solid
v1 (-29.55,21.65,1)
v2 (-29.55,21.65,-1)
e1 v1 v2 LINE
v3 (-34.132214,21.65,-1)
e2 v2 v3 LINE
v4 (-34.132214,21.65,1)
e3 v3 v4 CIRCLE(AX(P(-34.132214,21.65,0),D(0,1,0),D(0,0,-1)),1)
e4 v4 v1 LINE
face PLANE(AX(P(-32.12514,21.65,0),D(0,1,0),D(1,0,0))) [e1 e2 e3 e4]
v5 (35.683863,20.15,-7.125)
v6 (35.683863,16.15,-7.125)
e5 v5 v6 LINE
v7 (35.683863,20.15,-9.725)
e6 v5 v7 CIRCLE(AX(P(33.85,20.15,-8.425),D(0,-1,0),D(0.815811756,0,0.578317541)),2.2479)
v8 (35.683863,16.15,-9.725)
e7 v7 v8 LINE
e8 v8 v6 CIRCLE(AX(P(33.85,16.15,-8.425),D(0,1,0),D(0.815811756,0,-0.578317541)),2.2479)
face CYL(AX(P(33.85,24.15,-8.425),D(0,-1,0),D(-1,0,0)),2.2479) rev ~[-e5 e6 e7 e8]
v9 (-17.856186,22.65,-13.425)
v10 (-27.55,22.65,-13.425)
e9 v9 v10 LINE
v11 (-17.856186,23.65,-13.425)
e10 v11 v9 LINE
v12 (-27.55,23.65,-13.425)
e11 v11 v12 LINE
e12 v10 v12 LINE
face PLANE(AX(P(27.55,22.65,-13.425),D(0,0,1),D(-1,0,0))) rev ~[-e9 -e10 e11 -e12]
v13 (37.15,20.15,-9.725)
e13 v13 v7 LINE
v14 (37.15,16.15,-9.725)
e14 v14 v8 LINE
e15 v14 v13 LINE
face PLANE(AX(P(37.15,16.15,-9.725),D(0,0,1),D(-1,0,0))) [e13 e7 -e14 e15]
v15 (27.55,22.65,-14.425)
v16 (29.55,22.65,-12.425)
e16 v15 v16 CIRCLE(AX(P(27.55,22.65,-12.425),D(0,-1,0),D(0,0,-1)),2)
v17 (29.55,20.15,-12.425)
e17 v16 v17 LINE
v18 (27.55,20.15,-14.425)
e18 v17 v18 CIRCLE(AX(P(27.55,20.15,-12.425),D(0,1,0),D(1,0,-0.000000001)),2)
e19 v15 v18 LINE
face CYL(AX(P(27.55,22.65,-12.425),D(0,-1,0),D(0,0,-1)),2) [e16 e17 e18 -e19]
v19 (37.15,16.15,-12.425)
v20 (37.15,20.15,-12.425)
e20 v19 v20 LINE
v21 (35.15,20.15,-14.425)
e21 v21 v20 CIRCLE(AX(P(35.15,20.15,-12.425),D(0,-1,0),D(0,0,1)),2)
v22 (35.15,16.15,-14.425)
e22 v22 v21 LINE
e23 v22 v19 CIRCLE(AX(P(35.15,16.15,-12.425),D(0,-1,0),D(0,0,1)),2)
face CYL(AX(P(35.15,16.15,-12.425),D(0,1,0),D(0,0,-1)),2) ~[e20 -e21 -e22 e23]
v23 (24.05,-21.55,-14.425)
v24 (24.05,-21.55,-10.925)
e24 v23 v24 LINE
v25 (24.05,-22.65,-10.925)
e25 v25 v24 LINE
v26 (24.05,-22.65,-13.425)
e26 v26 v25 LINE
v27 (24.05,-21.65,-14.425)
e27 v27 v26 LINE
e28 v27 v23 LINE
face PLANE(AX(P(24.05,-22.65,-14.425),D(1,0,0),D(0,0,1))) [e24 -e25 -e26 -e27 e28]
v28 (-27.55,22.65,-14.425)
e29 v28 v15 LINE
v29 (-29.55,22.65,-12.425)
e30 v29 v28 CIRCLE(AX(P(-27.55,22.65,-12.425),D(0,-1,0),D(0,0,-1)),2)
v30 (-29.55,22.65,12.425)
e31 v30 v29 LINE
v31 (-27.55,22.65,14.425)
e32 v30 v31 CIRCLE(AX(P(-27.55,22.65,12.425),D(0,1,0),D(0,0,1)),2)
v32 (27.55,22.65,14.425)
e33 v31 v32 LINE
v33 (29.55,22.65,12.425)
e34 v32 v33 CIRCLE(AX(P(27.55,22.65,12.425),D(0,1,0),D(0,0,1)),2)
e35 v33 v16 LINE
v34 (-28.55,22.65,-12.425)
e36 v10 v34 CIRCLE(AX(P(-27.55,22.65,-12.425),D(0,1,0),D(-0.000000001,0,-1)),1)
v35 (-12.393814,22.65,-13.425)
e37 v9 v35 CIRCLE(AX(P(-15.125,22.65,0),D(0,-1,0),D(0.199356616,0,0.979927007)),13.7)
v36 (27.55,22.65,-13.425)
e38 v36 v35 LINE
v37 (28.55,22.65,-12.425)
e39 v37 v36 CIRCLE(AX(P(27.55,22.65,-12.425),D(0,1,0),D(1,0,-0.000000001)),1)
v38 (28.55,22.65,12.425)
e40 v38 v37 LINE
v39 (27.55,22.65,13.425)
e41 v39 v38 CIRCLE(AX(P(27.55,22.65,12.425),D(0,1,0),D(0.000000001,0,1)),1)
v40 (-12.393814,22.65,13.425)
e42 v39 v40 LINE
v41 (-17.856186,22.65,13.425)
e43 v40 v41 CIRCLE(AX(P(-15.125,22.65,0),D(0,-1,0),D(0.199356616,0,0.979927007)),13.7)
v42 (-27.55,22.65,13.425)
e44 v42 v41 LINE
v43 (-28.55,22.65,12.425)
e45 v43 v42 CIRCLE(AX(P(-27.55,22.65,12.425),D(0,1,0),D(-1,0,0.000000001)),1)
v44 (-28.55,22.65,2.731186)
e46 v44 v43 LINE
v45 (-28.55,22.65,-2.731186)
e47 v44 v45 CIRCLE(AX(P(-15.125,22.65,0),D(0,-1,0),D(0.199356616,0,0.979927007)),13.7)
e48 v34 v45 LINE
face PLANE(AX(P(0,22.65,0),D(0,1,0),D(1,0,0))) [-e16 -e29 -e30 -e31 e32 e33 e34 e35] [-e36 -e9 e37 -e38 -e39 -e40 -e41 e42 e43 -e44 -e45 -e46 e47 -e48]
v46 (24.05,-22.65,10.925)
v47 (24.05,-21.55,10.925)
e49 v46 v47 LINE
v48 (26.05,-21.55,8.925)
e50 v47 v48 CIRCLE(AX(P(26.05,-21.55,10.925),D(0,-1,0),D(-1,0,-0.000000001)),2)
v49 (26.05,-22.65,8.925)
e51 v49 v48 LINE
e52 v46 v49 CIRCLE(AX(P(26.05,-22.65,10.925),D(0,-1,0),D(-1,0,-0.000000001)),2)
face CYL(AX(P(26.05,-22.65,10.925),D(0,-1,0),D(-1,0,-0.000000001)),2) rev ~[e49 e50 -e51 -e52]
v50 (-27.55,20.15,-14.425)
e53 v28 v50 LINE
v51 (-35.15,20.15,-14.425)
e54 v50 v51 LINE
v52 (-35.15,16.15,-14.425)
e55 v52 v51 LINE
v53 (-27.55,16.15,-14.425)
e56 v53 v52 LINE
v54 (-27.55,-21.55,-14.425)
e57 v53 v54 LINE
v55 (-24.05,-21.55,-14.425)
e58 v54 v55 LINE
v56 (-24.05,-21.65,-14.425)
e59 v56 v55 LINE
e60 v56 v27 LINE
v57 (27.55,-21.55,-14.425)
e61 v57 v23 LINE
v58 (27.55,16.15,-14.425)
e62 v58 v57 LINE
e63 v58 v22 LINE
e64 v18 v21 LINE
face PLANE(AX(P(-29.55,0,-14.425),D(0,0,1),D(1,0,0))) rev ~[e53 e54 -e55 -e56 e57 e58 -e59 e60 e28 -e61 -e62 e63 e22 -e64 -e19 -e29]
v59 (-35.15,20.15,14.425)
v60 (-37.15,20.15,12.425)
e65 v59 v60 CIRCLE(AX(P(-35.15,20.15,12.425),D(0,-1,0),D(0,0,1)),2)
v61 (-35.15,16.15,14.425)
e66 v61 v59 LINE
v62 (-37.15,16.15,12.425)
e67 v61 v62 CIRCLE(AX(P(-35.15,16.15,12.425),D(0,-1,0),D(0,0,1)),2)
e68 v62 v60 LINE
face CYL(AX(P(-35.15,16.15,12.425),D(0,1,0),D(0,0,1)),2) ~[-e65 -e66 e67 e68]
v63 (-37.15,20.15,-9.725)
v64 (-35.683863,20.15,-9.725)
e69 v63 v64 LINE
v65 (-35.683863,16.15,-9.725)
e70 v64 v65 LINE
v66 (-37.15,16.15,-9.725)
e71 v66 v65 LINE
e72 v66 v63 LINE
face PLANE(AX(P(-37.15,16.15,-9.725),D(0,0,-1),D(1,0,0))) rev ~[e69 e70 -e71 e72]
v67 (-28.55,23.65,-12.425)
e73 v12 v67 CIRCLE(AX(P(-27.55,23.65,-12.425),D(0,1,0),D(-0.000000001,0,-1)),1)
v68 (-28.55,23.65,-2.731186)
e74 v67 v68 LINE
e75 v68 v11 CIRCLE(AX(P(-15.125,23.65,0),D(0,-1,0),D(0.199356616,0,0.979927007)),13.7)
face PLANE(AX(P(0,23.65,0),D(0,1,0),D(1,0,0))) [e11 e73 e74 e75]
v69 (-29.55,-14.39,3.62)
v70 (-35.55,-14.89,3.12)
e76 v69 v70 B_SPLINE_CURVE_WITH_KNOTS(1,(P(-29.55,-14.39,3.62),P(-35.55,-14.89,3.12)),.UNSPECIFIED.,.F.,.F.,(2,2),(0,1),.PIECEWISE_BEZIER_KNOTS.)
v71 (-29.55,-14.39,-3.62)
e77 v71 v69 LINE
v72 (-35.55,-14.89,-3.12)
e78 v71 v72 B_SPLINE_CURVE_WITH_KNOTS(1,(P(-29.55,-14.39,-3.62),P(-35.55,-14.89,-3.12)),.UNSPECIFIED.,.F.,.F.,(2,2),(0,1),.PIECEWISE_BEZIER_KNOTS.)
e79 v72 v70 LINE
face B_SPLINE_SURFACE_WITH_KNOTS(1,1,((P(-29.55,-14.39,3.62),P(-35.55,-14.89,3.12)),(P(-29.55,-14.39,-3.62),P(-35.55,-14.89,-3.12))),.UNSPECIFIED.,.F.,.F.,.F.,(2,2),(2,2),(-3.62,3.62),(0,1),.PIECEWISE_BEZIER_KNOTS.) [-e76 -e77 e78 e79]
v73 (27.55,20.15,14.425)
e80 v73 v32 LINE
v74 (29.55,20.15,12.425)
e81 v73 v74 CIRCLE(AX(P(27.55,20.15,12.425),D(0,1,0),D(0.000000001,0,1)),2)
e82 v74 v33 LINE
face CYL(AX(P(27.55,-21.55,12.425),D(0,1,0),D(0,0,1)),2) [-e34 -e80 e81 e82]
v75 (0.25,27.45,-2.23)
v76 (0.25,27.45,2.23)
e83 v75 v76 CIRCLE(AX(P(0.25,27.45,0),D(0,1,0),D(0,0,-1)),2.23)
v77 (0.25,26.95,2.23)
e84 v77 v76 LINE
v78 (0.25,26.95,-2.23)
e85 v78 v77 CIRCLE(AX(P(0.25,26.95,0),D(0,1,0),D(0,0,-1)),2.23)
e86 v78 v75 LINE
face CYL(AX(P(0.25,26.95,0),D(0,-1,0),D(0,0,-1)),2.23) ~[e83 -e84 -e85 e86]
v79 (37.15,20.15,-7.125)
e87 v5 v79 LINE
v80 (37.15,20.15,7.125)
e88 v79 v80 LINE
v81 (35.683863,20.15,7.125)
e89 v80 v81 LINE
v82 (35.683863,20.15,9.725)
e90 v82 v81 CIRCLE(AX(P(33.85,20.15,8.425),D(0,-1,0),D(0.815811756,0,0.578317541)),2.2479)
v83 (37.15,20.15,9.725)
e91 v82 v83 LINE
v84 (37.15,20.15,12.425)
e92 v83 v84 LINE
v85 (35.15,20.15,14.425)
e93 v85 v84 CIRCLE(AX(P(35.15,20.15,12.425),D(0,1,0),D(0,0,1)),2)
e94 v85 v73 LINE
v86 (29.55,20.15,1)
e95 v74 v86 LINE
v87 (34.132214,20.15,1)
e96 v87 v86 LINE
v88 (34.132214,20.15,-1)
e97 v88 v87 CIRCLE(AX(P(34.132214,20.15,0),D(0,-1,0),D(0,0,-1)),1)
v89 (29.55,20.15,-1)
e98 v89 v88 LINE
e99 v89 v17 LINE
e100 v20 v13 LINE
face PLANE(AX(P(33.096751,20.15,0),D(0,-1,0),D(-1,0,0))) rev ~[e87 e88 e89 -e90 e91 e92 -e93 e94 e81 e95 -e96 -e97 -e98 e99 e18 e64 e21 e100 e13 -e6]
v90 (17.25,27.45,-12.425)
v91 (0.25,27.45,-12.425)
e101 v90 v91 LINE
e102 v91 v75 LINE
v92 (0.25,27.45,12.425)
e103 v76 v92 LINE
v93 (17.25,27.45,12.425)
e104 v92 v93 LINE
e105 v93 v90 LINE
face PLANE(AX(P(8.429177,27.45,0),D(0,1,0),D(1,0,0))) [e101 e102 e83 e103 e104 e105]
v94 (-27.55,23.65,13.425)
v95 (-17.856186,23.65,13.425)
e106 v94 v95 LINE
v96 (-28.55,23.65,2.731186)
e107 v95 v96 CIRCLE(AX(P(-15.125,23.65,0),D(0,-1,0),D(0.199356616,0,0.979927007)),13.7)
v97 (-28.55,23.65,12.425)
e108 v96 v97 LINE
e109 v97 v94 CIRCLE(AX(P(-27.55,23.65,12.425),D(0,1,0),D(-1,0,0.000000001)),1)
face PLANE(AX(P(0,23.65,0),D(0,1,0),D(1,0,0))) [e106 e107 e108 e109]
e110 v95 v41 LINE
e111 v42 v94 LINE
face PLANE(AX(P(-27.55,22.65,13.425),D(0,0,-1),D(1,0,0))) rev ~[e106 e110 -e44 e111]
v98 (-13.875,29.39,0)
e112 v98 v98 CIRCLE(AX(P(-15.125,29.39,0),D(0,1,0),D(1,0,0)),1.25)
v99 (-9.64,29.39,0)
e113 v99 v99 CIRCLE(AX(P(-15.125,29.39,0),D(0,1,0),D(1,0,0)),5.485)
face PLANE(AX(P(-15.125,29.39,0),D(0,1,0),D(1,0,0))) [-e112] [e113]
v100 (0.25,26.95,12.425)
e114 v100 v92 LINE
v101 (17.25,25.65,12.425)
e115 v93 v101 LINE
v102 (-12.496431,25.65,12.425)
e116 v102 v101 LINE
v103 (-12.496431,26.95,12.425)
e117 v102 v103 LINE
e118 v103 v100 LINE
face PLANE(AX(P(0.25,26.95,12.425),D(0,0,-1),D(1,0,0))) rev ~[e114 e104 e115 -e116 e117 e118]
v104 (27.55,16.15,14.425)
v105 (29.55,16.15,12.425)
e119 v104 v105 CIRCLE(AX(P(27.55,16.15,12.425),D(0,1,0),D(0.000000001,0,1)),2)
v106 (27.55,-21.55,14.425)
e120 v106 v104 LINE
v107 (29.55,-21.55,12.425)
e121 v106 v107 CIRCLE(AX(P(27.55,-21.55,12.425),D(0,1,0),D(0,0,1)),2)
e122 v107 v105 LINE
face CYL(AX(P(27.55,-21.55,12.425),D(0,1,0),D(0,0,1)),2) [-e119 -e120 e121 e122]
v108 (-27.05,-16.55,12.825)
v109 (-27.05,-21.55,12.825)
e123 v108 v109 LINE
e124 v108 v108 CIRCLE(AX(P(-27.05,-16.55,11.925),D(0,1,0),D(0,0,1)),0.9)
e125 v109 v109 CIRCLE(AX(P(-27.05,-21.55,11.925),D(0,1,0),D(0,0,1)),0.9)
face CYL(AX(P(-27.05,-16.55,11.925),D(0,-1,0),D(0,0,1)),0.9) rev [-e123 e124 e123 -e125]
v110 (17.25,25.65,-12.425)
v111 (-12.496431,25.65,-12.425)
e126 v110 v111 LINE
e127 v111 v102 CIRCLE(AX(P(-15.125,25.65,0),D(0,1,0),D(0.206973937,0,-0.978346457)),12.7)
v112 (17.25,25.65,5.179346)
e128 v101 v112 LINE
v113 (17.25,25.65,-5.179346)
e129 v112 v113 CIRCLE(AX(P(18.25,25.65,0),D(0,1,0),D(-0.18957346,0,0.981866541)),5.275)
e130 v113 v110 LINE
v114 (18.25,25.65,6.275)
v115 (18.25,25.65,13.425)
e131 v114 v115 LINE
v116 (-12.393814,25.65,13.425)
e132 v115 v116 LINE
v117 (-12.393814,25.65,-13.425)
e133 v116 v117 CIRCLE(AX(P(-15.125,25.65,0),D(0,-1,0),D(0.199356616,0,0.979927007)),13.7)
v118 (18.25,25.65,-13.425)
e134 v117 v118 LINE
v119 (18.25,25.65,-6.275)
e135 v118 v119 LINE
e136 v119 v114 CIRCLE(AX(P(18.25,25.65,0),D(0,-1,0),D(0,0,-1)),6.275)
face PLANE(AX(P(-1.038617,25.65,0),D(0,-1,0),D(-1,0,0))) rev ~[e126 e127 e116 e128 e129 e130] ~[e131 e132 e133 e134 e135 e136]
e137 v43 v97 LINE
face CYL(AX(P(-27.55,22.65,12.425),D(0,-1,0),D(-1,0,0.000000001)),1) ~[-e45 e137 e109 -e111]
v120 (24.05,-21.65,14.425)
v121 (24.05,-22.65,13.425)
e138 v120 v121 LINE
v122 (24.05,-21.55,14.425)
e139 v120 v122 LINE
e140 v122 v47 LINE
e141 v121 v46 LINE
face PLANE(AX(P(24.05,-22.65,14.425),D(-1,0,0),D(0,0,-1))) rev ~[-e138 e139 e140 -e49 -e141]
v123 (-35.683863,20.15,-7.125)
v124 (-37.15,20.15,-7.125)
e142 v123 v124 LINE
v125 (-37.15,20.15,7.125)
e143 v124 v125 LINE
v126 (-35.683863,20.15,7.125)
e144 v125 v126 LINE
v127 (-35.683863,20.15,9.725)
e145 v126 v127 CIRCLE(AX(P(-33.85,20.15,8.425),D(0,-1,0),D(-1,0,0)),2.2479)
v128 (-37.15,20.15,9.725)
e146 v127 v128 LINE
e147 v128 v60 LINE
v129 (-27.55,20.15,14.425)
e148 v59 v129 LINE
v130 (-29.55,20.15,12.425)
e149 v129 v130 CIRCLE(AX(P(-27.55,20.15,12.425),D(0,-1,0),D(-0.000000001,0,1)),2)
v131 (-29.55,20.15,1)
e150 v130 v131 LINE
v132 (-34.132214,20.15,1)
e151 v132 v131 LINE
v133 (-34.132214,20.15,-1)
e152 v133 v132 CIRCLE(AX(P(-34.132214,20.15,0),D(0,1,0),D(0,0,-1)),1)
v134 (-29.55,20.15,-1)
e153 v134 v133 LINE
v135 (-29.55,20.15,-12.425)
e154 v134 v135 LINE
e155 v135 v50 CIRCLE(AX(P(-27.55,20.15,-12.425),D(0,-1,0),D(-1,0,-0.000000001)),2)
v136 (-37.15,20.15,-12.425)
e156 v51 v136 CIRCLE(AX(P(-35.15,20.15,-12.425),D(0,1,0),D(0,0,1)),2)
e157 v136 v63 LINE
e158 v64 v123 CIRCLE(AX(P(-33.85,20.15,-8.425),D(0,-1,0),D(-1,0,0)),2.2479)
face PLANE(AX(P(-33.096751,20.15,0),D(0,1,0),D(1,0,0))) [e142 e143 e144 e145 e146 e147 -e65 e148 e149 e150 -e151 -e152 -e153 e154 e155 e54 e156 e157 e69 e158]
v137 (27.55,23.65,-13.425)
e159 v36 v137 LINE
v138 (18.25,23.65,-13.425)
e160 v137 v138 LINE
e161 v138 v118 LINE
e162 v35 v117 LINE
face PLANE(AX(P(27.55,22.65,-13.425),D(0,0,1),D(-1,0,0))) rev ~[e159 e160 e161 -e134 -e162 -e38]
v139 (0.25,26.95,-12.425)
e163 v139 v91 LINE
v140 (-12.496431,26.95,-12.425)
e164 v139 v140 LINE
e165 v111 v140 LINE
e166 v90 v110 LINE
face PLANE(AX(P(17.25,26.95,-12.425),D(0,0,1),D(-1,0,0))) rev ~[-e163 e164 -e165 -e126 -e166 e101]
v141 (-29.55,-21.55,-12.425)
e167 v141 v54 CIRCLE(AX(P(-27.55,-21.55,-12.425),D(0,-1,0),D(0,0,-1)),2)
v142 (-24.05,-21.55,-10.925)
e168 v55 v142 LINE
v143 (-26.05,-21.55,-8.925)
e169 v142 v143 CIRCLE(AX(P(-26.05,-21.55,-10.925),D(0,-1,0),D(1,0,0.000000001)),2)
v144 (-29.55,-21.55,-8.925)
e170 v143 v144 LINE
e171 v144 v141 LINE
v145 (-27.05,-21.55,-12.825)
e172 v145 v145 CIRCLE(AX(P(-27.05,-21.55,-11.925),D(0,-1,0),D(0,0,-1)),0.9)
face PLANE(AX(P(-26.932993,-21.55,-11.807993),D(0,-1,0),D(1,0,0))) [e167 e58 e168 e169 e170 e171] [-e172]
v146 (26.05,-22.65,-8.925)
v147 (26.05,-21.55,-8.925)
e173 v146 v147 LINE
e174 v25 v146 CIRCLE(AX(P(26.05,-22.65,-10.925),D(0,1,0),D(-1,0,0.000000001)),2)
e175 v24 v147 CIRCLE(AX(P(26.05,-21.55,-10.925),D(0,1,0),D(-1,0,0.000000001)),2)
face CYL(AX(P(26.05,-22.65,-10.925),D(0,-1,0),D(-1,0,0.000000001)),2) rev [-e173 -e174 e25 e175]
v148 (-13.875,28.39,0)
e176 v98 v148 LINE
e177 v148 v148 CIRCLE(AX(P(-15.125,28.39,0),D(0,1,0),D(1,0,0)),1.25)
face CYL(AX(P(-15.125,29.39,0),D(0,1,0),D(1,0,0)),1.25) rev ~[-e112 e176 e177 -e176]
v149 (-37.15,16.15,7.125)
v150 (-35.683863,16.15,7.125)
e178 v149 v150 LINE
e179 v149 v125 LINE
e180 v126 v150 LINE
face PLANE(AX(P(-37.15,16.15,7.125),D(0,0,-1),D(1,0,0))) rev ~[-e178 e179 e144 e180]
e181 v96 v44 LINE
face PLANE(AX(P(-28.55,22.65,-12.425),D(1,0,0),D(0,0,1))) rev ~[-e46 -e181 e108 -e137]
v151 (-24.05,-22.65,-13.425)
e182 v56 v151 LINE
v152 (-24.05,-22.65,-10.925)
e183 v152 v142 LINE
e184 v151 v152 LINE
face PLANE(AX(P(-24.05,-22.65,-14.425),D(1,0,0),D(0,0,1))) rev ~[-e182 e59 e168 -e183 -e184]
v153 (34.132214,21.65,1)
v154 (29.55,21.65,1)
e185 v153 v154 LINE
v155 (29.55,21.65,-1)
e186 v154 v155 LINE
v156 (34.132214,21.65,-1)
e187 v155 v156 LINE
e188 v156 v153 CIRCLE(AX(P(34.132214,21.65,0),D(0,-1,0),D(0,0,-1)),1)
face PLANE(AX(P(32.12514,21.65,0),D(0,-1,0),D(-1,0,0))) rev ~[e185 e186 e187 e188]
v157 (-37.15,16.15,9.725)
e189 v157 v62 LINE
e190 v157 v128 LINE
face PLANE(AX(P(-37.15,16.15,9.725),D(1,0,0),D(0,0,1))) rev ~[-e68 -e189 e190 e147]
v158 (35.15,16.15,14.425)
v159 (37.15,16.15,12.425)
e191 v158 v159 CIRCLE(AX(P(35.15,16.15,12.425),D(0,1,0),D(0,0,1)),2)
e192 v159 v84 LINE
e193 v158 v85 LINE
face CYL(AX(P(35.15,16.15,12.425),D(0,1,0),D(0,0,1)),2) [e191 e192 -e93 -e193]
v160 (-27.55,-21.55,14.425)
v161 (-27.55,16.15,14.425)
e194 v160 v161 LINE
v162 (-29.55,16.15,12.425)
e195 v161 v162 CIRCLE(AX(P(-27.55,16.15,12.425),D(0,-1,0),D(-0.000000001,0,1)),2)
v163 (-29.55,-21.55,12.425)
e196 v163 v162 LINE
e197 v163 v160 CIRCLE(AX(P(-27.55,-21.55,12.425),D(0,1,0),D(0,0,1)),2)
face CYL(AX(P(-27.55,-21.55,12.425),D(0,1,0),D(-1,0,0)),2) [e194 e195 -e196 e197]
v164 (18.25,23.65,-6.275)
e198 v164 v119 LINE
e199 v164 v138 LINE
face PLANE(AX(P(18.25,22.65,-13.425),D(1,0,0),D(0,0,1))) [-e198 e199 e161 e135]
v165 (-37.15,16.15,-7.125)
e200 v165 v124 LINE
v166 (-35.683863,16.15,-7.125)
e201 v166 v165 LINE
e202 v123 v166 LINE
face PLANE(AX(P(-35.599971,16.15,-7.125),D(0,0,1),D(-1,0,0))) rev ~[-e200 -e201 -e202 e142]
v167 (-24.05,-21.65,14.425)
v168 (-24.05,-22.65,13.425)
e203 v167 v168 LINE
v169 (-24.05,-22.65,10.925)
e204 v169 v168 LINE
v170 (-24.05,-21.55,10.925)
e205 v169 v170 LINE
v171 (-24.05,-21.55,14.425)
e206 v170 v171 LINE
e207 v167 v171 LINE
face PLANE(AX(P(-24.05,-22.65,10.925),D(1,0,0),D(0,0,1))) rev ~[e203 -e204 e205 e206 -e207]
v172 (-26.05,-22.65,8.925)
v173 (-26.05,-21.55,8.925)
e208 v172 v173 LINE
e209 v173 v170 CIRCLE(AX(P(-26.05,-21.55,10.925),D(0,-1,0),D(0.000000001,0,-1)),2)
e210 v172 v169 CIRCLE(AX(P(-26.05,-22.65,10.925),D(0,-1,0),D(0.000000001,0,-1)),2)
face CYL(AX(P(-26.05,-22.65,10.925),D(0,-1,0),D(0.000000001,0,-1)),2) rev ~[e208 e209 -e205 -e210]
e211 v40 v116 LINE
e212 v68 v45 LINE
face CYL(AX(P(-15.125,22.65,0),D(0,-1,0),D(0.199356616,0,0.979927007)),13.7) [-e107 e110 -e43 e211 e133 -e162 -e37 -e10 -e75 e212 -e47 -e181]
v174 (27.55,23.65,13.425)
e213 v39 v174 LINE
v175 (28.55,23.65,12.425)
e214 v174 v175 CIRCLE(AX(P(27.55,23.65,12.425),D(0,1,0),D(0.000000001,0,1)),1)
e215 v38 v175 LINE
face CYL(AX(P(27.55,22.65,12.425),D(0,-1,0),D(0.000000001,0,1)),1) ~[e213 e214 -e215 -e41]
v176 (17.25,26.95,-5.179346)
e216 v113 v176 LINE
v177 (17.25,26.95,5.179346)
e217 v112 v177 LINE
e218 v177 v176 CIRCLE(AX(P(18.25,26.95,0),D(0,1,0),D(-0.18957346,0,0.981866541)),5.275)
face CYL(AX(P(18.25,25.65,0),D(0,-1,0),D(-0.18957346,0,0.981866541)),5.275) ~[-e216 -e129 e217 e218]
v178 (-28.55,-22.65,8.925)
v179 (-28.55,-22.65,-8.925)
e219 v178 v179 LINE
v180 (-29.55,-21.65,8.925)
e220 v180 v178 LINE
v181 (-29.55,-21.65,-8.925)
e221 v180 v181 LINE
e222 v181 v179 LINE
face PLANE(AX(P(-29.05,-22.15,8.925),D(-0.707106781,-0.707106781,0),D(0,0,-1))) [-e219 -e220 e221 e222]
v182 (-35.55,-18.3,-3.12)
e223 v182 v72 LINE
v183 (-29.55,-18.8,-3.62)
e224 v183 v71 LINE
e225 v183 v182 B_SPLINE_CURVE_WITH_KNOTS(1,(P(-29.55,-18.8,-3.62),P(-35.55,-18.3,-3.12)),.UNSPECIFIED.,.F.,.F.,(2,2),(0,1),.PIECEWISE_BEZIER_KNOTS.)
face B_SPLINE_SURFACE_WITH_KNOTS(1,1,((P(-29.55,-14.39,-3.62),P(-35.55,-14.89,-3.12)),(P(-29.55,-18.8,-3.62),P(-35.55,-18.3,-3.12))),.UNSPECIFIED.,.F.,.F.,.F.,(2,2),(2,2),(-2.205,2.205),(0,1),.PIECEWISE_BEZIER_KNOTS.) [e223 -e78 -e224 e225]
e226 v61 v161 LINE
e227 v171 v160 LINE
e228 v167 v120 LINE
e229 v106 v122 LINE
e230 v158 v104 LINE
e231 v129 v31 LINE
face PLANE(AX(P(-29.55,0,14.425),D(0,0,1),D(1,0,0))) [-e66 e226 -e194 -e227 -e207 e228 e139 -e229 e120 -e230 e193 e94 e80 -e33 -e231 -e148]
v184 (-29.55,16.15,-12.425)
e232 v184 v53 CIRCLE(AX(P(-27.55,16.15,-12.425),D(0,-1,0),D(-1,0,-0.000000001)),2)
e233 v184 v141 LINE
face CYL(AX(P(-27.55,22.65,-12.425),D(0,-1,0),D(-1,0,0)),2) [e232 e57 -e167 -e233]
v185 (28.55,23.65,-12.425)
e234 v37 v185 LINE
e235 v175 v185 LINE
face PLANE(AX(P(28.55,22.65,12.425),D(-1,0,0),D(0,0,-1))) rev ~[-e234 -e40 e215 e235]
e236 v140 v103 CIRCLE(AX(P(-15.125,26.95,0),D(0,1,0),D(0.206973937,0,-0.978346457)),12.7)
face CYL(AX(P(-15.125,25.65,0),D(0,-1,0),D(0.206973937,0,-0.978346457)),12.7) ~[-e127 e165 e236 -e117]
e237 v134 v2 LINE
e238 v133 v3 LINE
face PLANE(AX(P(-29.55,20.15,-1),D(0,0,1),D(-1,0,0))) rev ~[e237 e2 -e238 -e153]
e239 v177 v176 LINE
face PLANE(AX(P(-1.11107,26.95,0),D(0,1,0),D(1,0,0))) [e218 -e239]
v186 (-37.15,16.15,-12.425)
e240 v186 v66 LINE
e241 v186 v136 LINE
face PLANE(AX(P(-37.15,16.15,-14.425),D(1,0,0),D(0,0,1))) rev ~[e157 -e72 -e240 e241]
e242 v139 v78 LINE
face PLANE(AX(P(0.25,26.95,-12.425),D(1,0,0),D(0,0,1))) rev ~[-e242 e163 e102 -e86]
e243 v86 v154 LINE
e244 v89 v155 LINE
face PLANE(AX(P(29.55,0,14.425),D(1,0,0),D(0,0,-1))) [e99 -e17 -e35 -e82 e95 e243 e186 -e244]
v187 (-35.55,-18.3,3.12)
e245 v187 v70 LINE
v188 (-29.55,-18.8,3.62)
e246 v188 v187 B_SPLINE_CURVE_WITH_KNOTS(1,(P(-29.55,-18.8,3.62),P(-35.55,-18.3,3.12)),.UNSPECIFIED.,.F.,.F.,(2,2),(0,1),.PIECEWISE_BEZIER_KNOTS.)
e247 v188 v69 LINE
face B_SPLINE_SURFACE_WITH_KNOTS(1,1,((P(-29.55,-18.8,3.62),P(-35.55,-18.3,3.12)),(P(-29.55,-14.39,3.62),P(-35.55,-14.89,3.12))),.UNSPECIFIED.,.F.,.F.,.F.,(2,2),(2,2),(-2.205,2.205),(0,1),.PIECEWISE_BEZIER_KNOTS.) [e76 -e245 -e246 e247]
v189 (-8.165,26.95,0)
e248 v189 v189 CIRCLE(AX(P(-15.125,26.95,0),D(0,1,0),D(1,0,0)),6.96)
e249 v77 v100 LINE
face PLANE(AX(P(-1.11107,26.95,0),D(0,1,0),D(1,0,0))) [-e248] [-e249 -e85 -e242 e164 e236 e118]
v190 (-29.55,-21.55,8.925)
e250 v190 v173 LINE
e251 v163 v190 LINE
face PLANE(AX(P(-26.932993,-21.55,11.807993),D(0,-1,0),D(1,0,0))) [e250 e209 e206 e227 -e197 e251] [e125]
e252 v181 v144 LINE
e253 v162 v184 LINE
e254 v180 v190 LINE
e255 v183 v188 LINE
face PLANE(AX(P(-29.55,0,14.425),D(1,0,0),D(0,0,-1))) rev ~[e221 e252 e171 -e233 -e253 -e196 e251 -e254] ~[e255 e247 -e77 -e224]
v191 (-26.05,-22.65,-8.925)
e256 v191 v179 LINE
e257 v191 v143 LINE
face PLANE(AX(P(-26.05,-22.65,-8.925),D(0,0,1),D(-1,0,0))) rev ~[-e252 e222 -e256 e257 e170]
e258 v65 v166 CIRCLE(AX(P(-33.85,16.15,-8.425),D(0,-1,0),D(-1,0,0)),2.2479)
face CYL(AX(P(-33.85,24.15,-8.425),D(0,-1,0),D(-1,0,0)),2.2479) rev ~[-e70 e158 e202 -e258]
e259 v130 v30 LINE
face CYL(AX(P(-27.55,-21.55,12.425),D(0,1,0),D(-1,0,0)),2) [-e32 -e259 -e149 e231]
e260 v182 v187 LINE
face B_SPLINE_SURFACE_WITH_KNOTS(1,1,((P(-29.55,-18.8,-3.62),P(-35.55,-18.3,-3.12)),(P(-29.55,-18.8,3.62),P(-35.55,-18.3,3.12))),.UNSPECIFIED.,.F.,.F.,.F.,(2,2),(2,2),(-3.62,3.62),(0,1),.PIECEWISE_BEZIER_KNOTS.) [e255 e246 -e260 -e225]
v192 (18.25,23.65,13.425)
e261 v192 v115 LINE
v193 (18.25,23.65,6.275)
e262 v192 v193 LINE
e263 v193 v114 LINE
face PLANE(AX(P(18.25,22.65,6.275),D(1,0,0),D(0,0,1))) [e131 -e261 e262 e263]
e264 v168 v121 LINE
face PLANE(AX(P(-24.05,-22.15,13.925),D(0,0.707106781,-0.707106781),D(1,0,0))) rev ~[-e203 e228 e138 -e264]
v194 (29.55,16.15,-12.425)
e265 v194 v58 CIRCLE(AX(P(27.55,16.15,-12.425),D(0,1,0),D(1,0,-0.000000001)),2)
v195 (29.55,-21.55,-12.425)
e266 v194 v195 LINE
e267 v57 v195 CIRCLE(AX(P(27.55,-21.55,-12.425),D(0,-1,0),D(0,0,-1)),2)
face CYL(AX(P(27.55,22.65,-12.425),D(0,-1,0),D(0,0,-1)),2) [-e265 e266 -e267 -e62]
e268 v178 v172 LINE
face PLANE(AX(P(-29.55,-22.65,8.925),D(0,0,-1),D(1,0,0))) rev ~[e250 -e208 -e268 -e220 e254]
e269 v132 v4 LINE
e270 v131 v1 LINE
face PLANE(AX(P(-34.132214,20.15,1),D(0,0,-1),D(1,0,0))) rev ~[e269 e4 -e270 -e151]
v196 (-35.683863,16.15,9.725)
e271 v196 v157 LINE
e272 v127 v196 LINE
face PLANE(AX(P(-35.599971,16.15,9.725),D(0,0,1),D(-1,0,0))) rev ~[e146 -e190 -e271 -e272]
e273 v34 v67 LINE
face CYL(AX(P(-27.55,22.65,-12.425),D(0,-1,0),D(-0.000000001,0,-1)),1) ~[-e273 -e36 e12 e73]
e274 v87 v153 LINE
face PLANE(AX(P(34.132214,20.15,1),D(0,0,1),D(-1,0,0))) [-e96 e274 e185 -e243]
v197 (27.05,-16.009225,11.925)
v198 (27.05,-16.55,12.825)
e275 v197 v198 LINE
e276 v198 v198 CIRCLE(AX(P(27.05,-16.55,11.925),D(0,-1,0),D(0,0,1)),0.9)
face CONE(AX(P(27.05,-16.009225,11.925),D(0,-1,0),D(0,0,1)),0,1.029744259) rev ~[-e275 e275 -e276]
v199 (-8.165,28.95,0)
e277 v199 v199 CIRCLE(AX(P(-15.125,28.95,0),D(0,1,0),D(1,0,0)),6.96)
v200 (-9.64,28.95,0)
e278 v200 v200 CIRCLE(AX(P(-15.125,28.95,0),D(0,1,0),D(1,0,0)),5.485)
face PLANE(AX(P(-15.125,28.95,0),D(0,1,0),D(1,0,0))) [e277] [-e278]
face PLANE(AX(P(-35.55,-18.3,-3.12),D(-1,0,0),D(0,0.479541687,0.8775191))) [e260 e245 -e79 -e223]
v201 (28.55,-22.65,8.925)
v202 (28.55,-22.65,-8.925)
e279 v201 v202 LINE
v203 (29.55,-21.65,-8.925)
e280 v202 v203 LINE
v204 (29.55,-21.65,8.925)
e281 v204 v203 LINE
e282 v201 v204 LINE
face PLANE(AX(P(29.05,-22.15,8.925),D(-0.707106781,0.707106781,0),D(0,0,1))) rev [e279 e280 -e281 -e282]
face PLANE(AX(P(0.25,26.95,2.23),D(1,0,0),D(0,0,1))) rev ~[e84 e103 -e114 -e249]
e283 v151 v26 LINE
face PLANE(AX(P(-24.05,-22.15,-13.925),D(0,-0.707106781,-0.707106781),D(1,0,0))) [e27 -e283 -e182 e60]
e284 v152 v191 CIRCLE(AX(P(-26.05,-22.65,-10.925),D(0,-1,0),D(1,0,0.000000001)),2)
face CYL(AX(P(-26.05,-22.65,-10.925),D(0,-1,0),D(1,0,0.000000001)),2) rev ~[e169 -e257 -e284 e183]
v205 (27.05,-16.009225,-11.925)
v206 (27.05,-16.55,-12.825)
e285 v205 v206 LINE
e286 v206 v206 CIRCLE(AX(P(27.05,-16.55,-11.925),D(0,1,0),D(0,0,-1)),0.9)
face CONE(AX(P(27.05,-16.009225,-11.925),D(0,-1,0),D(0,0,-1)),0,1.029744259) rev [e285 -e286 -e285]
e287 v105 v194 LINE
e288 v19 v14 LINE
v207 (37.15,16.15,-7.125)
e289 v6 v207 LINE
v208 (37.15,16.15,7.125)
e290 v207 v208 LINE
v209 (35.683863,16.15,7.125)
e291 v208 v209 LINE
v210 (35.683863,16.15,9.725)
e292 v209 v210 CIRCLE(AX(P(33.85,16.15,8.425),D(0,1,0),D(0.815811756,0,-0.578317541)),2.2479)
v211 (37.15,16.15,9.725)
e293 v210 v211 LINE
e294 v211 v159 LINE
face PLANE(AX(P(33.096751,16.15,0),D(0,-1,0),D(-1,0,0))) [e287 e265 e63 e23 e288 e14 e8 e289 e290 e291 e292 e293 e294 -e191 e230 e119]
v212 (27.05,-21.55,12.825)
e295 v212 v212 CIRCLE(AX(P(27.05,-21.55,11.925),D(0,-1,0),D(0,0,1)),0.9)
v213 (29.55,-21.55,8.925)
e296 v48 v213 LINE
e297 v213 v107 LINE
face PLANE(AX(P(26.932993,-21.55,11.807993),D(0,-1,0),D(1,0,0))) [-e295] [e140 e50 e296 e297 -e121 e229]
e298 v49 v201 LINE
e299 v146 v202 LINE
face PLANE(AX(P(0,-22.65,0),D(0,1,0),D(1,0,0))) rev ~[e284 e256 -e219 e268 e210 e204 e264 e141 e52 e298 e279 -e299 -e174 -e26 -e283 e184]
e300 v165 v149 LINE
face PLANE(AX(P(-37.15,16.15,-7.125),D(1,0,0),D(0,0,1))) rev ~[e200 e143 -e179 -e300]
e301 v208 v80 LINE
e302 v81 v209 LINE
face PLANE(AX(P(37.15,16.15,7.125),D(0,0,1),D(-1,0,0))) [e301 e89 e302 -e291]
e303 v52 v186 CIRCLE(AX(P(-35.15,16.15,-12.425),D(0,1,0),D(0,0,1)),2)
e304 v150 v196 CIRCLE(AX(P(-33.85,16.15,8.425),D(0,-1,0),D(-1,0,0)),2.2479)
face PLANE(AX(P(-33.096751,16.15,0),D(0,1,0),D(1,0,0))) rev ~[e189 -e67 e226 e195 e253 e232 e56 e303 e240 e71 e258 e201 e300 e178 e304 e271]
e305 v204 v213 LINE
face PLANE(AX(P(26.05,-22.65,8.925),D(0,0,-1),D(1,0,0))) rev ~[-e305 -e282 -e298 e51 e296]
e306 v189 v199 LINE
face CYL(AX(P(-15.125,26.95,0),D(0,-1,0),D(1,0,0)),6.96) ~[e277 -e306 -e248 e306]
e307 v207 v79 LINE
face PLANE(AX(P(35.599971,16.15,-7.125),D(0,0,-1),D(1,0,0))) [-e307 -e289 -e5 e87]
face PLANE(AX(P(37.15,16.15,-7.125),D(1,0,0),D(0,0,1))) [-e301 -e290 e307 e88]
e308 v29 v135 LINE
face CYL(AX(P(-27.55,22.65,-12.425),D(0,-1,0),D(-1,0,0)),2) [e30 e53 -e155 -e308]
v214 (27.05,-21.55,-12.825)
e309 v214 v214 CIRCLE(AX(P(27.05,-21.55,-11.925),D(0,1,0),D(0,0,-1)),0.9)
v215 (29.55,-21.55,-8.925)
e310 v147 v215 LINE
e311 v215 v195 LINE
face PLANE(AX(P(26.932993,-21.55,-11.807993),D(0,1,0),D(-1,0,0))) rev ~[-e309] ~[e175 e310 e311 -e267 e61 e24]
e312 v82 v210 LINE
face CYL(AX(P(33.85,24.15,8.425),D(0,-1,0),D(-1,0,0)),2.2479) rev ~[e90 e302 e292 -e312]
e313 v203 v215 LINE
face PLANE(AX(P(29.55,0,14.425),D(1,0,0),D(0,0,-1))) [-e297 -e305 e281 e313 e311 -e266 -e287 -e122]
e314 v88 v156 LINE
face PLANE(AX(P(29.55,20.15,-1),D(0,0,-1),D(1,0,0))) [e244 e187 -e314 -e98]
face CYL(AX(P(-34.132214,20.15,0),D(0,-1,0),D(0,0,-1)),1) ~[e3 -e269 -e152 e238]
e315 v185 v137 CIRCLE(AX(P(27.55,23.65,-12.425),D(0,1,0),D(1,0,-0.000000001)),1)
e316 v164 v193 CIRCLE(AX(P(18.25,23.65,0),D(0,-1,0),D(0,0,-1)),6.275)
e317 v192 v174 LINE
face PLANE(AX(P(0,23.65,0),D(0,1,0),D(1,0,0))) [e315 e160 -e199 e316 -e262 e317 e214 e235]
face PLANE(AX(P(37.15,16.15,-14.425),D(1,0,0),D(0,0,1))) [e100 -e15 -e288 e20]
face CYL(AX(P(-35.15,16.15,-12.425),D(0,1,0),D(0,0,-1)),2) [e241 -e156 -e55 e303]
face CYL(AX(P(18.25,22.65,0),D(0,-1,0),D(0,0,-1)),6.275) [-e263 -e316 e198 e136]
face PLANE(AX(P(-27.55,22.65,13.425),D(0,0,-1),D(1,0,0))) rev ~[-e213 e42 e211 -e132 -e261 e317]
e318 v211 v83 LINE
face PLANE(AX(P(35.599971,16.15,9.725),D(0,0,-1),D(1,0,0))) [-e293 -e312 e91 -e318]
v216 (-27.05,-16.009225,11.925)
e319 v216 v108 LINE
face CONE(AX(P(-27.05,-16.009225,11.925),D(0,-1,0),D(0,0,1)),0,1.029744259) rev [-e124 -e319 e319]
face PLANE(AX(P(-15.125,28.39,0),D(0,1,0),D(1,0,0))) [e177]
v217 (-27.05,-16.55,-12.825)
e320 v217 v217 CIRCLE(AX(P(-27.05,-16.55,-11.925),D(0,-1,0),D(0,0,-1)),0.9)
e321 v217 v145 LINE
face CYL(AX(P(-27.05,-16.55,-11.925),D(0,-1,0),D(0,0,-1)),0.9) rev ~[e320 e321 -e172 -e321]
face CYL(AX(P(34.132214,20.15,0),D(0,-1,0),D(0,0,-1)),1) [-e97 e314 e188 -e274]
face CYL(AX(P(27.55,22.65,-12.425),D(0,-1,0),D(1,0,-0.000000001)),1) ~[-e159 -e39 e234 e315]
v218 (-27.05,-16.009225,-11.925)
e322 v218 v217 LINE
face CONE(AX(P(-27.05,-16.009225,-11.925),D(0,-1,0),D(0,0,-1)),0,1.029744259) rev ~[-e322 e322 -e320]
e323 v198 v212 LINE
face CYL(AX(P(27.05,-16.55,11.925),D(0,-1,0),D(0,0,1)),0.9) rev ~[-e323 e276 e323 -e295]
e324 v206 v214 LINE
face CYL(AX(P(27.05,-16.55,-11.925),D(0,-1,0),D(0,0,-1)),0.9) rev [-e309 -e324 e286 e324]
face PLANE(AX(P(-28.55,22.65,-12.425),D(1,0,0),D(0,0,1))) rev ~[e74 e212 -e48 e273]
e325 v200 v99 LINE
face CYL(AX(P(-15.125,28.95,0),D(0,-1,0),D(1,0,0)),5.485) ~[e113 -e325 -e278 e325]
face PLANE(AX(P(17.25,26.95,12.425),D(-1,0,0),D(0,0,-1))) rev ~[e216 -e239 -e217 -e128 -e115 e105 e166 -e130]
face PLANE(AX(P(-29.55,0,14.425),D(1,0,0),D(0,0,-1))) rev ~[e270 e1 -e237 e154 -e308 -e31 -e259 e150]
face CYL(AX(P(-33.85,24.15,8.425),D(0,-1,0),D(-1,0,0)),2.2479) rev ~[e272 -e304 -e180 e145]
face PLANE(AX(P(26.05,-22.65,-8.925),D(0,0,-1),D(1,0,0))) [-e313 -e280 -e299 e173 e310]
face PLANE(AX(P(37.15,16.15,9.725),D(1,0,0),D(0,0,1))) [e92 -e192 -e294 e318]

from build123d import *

# Parameters (mm, degrees)
CROQUIS1_W                      = 59.1
CROQUIS1_H                      = 28.85
SALIENTE_EXTRUIR1_DEPTH         = 22.65
CORTAR_EXTRUIR1_DEPTH           = 1.1
CHAFL_N1_SIZE                   = 1
REDONDEO1_R                     = 2
SALIENTE_EXTRUIR2_DEPTH         = 4
REDONDEO2_R                     = 2
SALIENTE_EXTRUIR3_DEPTH         = 1.5
SALIENTE_EXTRUIR4_DEPTH         = 1
SALIENTE_EXTRUIR5_DEPTH         = 3
SALIENTE_EXTRUIR6_DEPTH         = 1.3
CROQUIS8_R                      = 6.96
SALIENTE_EXTRUIR7_DEPTH         = 2
CROQUIS9_R                      = 5.485
SALIENTE_EXTRUIR8_DEPTH         = 0.44
CROQUIS10_R                     = 1.25
CORTAR_EXTRUIR2_DEPTH           = 1
TALADRO_DE_MARGEN_PARA_81_D     = 4.4958
TALADRO_DE_MARGEN_PARA_81_DEPTH = 4
SALIENTE_EXTRUIR9_DEPTH         = 0.5
CROQUIS17_W                     = 7.24
CROQUIS17_H                     = 4.41
CROQUIS18_W                     = 6.24
CROQUIS18_H                     = 3.41


with BuildPart() as part:
    # Croquis1 → Saliente-Extruir1 (new body, symmetric)
    with BuildSketch(Plane(origin=(0, 0, 0), x_dir=(1, 0, 0), z_dir=(0, 1, 0))):
        Rectangle(CROQUIS1_W, CROQUIS1_H)
    extrude(amount=SALIENTE_EXTRUIR1_DEPTH, both=True)

    # Croquis2 → Cortar-Extruir1 (cut)
    with BuildSketch(Plane.XZ.offset(22.65)):
        with BuildLine():
            Line((29.55, 14.425), (24.05, 14.425))
            Line((24.05, 14.425), (24.05, 10.925))
            ThreePointArc((24.05, 10.925), (24.635786438, 9.510786438), (26.05, 8.925))
            Line((26.05, 8.925), (29.55, 8.925))
            Line((29.55, 8.925), (29.55, 14.425))
        make_face()
        with BuildLine():
            Line((-29.55, 14.425), (-29.55, 8.925))
            Line((-29.55, 8.925), (-26.05, 8.925))
            ThreePointArc((-26.05, 8.925), (-24.635786438, 9.510786438), (-24.05, 10.925))
            Line((-24.05, 10.925), (-24.05, 14.425))
            Line((-24.05, 14.425), (-29.55, 14.425))
        make_face()
        with BuildLine():
            Line((24.05, -14.425), (24.05, -10.925))
            ThreePointArc((24.05, -10.925), (24.635786438, -9.510786438), (26.05, -8.925))
            Line((26.05, -8.925), (29.55, -8.925))
            Line((29.55, -8.925), (29.55, -14.425))
            Line((29.55, -14.425), (24.05, -14.425))
        make_face()
        with BuildLine():
            Line((-24.05, -14.425), (-24.05, -10.925))
            ThreePointArc((-24.05, -10.925), (-24.635786438, -9.510786438), (-26.05, -8.925))
            Line((-26.05, -8.925), (-29.55, -8.925))
            Line((-29.55, -8.925), (-29.55, -14.425))
            Line((-29.55, -14.425), (-24.05, -14.425))
        make_face()
    extrude(amount=-CORTAR_EXTRUIR1_DEPTH, mode=Mode.SUBTRACT)

    # Chaflán1
    chafl_n1_edges = [part.edges().sort_by_distance(p)[0] for p in [
        (29.55, -22.65, 0),
        (0, -22.65, 14.425),
        (0, -22.65, -14.425),
        (-29.55, -22.65, 0),
    ]]
    chamfer(chafl_n1_edges, length=CHAFL_N1_SIZE)

    # Redondeo1
    redondeo1_edges = [part.edges().sort_by_distance(p)[0] for p in [
        (29.55, 0.55, 14.425),
        (-29.55, 0.55, 14.425),
        (-29.55, 0.55, -14.425),
        (29.55, 0.55, -14.425),
    ]]
    fillet(redondeo1_edges, radius=REDONDEO1_R)

    # Croquis3 → Saliente-Extruir2 (add)
    with BuildSketch(Plane(origin=(0, 16.15, 0), x_dir=(1, 0, 0), z_dir=(0, 1, 0))):
        with BuildLine():
            Line((27.55, 14.425), (37.15, 14.425))
            Line((37.15, 14.425), (37.15, 9.725))
            Line((37.15, 9.725), (35.599971428, 9.725))
            Line((35.599971428, 9.725), (35.599971428, 7.125))
            Line((35.599971428, 7.125), (37.15, 7.125))
            Line((37.15, 7.125), (37.15, -7.125))
            Line((37.15, -7.125), (35.599971428, -7.125))
            Line((35.599971428, -7.125), (35.599971428, -9.725))
            Line((35.599971428, -9.725), (37.15, -9.725))
            Line((37.15, -9.725), (37.15, -14.425))
            Line((37.15, -14.425), (27.55, -14.425))
            ThreePointArc((27.55, -14.425), (28.964213562, -13.839213562), (29.55, -12.425))
            Line((29.55, -12.425), (29.55, 12.425))
            ThreePointArc((29.55, 12.425), (28.964213562, 13.839213562), (27.55, 14.425))
        make_face()
        with BuildLine():
            Line((-37.15, -9.725), (-37.15, -14.425))
            Line((-37.15, -14.425), (-27.55, -14.425))
            ThreePointArc((-27.55, -14.425), (-28.964213562, -13.839213562), (-29.55, -12.425))
            Line((-29.55, -12.425), (-29.55, 12.425))
            ThreePointArc((-29.55, 12.425), (-28.964213562, 13.839213562), (-27.55, 14.425))
            Line((-27.55, 14.425), (-37.15, 14.425))
            Line((-37.15, 14.425), (-37.15, 9.725))
            Line((-37.15, 9.725), (-35.599971428, 9.725))
            Line((-35.599971428, 9.725), (-35.599971428, 7.125))
            Line((-35.599971428, 7.125), (-37.15, 7.125))
            Line((-37.15, 7.125), (-37.15, -7.125))
            Line((-37.15, -7.125), (-35.599971428, -7.125))
            Line((-35.599971428, -7.125), (-35.599971428, -9.725))
            Line((-35.599971428, -9.725), (-37.15, -9.725))
        make_face()
    extrude(amount=SALIENTE_EXTRUIR2_DEPTH)

    # Redondeo2
    redondeo2_edges = [part.edges().sort_by_distance(p)[0] for p in [
        (37.15, 18.15, 14.425),
        (37.15, 18.15, -14.425),
        (-37.15, 18.15, 14.425),
        (-37.15, 18.15, -14.425),
    ]]
    fillet(redondeo2_edges, radius=REDONDEO2_R)

    # Croquis4 → Saliente-Extruir3 (add)
    with BuildSketch(Plane(origin=(0, 20.15, 0), x_dir=(1, 0, 0), z_dir=(0, 1, 0))):
        with BuildLine():
            Line((34.13221447, -1), (29.55, -1))
            Line((29.55, -1), (29.55, 1))
            Line((29.55, 1), (34.13221447, 1))
            ThreePointArc((34.13221447, 1), (35.13221447, 0), (34.13221447, -1))
        make_face()
        with BuildLine():
            Line((-29.55, -1), (-29.55, 1))
            Line((-29.55, 1), (-34.13221447, 1))
            ThreePointArc((-34.13221447, 1), (-35.13221447, 0), (-34.13221447, -1))
            Line((-34.13221447, -1), (-29.55, -1))
        make_face()
    extrude(amount=SALIENTE_EXTRUIR3_DEPTH)

    # Croquis5 → Saliente-Extruir4 (add)
    with BuildSketch(Plane(origin=(0, 22.65, 0), x_dir=(1, 0, 0), z_dir=(0, 1, 0))):
        with BuildLine():
            Line((-27.55, -13.425), (27.55, -13.425))
            ThreePointArc((27.55, -13.425), (28.257106781, -13.132106781), (28.55, -12.425))
            Line((28.55, -12.425), (28.55, 12.425))
            ThreePointArc((28.55, 12.425), (28.257106781, 13.132106781), (27.55, 13.425))
            Line((27.55, 13.425), (-27.55, 13.425))
            ThreePointArc((-27.55, 13.425), (-28.257106781, 13.132106781), (-28.55, 12.425))
            Line((-28.55, 12.425), (-28.55, -12.425))
            ThreePointArc((-28.55, -12.425), (-28.257106781, -13.132106781), (-27.55, -13.425))
        make_face()
    extrude(amount=SALIENTE_EXTRUIR4_DEPTH)

    # Croquis6 → Saliente-Extruir5 (add)
    with BuildSketch(Plane(origin=(0, 22.65, 0), x_dir=(1, 0, 0), z_dir=(0, 1, 0))):
        with BuildLine():
            Line((-12.39381436, 13.425), (18.25, 13.425))
            Line((18.25, 13.425), (18.25, 6.275))
            ThreePointArc((18.25, 6.275), (24.525, 0), (18.25, -6.275))
            Line((18.25, -6.275), (18.25, -13.425))
            Line((18.25, -13.425), (-12.39381436, -13.425))
            ThreePointArc((-12.39381436, -13.425), (-28.825, 0), (-12.39381436, 13.425))
        make_face()
    extrude(amount=SALIENTE_EXTRUIR5_DEPTH)

    # Croquis7 → Saliente-Extruir6 (add)
    with BuildSketch(Plane(origin=(0, 25.65, 0), x_dir=(1, 0, 0), z_dir=(0, 1, 0))):
        with BuildLine():
            Line((17.25, 5.179346001), (17.25, 12.425))
            Line((17.25, 12.425), (-12.496430998, 12.425))
            ThreePointArc((-12.496430998, 12.425), (-27.825, 0), (-12.496430998, -12.425))
            Line((-12.496430998, -12.425), (17.25, -12.425))
            Line((17.25, -12.425), (17.25, -5.179346001))
            ThreePointArc((17.25, -5.179346001), (23.525, 0), (17.25, 5.179346001))
        make_face()
    extrude(amount=SALIENTE_EXTRUIR6_DEPTH)

    # Croquis8 → Saliente-Extruir7 (add)
    with BuildSketch(Plane(origin=(0, 26.95, 0), x_dir=(1, 0, 0), z_dir=(0, 1, 0))):
        with Locations((-15.125, 0)):
            Circle(CROQUIS8_R)
    extrude(amount=SALIENTE_EXTRUIR7_DEPTH)

    # Croquis9 → Saliente-Extruir8 (add)
    with BuildSketch(Plane(origin=(0, 28.95, 0), x_dir=(1, 0, 0), z_dir=(0, 1, 0))):
        with Locations((-15.125, 0)):
            Circle(CROQUIS9_R)
    extrude(amount=SALIENTE_EXTRUIR8_DEPTH)

    # Croquis10 → Cortar-Extruir2 (cut)
    with BuildSketch(Plane(origin=(0, 29.39, 0), x_dir=(1, 0, 0), z_dir=(0, 1, 0))):
        with Locations((-15.125, 0)):
            Circle(CROQUIS10_R)
    extrude(amount=-CORTAR_EXTRUIR2_DEPTH, mode=Mode.SUBTRACT)

    # Croquis11 → Taladro de margen para M1.61 (revolve, cut)
    with BuildSketch(Plane(origin=(27.05, -21.55, -11.925), x_dir=(0, 0, -1), z_dir=(1, 0, 0))):
        Polygon((0, 0), (0, 5.540774557), (0.9, 5), (0.9, 0), align=None)
    taladro_de_margen_para_m1_61 = revolve(axis=Axis((27.05, -27.9, -11.925), (0, 1, 0)), mode=Mode.SUBTRACT)

    # Simetría1: Taladro de margen para M1.61 across plane
    add(taladro_de_margen_para_m1_61.mirror(Plane.XY), mode=Mode.SUBTRACT)

    # Simetría2: Taladro de margen para M1.61 across plane
    add(taladro_de_margen_para_m1_61.mirror(Plane(origin=(0, 0, 0), x_dir=(0, 0, 1), z_dir=(1, 0, 0))), mode=Mode.SUBTRACT)

    # Simetría2 copy 1 sketch → Simetría2 copy 1 (revolve, cut)
    with BuildSketch(Plane(origin=(-27.05, -21.55, 11.925), x_dir=(0, 0, 1), z_dir=(-1, 0, 0))):
        Polygon((0, 0), (0, 5.540774557), (0.9, 5), (0.9, 0), align=None)
    revolve(axis=Axis((-27.05, -27.9, 11.925), (0, 1, 0)), mode=Mode.SUBTRACT)

    # Taladro de margen para #81
    with Locations(Plane(origin=(0, 20.15, 0), x_dir=(1, 0, 0), z_dir=(0, 1, 0))):
        with Locations((33.85, 8.425), (33.85, -8.425), (-33.85, 8.425), (-33.85, -8.425)):
            Hole(TALADRO_DE_MARGEN_PARA_81_D / 2, depth=TALADRO_DE_MARGEN_PARA_81_DEPTH)

    # Croquis15 → Saliente-Extruir9 (add)
    with BuildSketch(Plane(origin=(0, 26.95, 0), x_dir=(1, 0, 0), z_dir=(0, 1, 0))):
        with BuildLine():
            Line((17.25, 12.425), (0.25, 12.425))
            Line((0.25, 12.425), (0.25, 2.23))
            ThreePointArc((0.25, 2.23), (-1.98, 0), (0.25, -2.23))
            Line((0.25, -2.23), (0.25, -12.425))
            Line((0.25, -12.425), (17.25, -12.425))
            Line((17.25, -12.425), (17.25, 12.425))
        make_face()
    extrude(amount=SALIENTE_EXTRUIR9_DEPTH)

    # Croquis17 → Recubrir1 section 0
    with BuildSketch(Plane.ZY.offset(29.55)):
        with Locations((0, -16.595)):
            Rectangle(CROQUIS17_W, CROQUIS17_H)
    # Croquis18 → Recubrir1 section 1
    with BuildSketch(Plane.ZY.offset(35.55)):
        with Locations((0, -16.595)):
            Rectangle(CROQUIS18_W, CROQUIS18_H)
    loft()


solid = part.part
